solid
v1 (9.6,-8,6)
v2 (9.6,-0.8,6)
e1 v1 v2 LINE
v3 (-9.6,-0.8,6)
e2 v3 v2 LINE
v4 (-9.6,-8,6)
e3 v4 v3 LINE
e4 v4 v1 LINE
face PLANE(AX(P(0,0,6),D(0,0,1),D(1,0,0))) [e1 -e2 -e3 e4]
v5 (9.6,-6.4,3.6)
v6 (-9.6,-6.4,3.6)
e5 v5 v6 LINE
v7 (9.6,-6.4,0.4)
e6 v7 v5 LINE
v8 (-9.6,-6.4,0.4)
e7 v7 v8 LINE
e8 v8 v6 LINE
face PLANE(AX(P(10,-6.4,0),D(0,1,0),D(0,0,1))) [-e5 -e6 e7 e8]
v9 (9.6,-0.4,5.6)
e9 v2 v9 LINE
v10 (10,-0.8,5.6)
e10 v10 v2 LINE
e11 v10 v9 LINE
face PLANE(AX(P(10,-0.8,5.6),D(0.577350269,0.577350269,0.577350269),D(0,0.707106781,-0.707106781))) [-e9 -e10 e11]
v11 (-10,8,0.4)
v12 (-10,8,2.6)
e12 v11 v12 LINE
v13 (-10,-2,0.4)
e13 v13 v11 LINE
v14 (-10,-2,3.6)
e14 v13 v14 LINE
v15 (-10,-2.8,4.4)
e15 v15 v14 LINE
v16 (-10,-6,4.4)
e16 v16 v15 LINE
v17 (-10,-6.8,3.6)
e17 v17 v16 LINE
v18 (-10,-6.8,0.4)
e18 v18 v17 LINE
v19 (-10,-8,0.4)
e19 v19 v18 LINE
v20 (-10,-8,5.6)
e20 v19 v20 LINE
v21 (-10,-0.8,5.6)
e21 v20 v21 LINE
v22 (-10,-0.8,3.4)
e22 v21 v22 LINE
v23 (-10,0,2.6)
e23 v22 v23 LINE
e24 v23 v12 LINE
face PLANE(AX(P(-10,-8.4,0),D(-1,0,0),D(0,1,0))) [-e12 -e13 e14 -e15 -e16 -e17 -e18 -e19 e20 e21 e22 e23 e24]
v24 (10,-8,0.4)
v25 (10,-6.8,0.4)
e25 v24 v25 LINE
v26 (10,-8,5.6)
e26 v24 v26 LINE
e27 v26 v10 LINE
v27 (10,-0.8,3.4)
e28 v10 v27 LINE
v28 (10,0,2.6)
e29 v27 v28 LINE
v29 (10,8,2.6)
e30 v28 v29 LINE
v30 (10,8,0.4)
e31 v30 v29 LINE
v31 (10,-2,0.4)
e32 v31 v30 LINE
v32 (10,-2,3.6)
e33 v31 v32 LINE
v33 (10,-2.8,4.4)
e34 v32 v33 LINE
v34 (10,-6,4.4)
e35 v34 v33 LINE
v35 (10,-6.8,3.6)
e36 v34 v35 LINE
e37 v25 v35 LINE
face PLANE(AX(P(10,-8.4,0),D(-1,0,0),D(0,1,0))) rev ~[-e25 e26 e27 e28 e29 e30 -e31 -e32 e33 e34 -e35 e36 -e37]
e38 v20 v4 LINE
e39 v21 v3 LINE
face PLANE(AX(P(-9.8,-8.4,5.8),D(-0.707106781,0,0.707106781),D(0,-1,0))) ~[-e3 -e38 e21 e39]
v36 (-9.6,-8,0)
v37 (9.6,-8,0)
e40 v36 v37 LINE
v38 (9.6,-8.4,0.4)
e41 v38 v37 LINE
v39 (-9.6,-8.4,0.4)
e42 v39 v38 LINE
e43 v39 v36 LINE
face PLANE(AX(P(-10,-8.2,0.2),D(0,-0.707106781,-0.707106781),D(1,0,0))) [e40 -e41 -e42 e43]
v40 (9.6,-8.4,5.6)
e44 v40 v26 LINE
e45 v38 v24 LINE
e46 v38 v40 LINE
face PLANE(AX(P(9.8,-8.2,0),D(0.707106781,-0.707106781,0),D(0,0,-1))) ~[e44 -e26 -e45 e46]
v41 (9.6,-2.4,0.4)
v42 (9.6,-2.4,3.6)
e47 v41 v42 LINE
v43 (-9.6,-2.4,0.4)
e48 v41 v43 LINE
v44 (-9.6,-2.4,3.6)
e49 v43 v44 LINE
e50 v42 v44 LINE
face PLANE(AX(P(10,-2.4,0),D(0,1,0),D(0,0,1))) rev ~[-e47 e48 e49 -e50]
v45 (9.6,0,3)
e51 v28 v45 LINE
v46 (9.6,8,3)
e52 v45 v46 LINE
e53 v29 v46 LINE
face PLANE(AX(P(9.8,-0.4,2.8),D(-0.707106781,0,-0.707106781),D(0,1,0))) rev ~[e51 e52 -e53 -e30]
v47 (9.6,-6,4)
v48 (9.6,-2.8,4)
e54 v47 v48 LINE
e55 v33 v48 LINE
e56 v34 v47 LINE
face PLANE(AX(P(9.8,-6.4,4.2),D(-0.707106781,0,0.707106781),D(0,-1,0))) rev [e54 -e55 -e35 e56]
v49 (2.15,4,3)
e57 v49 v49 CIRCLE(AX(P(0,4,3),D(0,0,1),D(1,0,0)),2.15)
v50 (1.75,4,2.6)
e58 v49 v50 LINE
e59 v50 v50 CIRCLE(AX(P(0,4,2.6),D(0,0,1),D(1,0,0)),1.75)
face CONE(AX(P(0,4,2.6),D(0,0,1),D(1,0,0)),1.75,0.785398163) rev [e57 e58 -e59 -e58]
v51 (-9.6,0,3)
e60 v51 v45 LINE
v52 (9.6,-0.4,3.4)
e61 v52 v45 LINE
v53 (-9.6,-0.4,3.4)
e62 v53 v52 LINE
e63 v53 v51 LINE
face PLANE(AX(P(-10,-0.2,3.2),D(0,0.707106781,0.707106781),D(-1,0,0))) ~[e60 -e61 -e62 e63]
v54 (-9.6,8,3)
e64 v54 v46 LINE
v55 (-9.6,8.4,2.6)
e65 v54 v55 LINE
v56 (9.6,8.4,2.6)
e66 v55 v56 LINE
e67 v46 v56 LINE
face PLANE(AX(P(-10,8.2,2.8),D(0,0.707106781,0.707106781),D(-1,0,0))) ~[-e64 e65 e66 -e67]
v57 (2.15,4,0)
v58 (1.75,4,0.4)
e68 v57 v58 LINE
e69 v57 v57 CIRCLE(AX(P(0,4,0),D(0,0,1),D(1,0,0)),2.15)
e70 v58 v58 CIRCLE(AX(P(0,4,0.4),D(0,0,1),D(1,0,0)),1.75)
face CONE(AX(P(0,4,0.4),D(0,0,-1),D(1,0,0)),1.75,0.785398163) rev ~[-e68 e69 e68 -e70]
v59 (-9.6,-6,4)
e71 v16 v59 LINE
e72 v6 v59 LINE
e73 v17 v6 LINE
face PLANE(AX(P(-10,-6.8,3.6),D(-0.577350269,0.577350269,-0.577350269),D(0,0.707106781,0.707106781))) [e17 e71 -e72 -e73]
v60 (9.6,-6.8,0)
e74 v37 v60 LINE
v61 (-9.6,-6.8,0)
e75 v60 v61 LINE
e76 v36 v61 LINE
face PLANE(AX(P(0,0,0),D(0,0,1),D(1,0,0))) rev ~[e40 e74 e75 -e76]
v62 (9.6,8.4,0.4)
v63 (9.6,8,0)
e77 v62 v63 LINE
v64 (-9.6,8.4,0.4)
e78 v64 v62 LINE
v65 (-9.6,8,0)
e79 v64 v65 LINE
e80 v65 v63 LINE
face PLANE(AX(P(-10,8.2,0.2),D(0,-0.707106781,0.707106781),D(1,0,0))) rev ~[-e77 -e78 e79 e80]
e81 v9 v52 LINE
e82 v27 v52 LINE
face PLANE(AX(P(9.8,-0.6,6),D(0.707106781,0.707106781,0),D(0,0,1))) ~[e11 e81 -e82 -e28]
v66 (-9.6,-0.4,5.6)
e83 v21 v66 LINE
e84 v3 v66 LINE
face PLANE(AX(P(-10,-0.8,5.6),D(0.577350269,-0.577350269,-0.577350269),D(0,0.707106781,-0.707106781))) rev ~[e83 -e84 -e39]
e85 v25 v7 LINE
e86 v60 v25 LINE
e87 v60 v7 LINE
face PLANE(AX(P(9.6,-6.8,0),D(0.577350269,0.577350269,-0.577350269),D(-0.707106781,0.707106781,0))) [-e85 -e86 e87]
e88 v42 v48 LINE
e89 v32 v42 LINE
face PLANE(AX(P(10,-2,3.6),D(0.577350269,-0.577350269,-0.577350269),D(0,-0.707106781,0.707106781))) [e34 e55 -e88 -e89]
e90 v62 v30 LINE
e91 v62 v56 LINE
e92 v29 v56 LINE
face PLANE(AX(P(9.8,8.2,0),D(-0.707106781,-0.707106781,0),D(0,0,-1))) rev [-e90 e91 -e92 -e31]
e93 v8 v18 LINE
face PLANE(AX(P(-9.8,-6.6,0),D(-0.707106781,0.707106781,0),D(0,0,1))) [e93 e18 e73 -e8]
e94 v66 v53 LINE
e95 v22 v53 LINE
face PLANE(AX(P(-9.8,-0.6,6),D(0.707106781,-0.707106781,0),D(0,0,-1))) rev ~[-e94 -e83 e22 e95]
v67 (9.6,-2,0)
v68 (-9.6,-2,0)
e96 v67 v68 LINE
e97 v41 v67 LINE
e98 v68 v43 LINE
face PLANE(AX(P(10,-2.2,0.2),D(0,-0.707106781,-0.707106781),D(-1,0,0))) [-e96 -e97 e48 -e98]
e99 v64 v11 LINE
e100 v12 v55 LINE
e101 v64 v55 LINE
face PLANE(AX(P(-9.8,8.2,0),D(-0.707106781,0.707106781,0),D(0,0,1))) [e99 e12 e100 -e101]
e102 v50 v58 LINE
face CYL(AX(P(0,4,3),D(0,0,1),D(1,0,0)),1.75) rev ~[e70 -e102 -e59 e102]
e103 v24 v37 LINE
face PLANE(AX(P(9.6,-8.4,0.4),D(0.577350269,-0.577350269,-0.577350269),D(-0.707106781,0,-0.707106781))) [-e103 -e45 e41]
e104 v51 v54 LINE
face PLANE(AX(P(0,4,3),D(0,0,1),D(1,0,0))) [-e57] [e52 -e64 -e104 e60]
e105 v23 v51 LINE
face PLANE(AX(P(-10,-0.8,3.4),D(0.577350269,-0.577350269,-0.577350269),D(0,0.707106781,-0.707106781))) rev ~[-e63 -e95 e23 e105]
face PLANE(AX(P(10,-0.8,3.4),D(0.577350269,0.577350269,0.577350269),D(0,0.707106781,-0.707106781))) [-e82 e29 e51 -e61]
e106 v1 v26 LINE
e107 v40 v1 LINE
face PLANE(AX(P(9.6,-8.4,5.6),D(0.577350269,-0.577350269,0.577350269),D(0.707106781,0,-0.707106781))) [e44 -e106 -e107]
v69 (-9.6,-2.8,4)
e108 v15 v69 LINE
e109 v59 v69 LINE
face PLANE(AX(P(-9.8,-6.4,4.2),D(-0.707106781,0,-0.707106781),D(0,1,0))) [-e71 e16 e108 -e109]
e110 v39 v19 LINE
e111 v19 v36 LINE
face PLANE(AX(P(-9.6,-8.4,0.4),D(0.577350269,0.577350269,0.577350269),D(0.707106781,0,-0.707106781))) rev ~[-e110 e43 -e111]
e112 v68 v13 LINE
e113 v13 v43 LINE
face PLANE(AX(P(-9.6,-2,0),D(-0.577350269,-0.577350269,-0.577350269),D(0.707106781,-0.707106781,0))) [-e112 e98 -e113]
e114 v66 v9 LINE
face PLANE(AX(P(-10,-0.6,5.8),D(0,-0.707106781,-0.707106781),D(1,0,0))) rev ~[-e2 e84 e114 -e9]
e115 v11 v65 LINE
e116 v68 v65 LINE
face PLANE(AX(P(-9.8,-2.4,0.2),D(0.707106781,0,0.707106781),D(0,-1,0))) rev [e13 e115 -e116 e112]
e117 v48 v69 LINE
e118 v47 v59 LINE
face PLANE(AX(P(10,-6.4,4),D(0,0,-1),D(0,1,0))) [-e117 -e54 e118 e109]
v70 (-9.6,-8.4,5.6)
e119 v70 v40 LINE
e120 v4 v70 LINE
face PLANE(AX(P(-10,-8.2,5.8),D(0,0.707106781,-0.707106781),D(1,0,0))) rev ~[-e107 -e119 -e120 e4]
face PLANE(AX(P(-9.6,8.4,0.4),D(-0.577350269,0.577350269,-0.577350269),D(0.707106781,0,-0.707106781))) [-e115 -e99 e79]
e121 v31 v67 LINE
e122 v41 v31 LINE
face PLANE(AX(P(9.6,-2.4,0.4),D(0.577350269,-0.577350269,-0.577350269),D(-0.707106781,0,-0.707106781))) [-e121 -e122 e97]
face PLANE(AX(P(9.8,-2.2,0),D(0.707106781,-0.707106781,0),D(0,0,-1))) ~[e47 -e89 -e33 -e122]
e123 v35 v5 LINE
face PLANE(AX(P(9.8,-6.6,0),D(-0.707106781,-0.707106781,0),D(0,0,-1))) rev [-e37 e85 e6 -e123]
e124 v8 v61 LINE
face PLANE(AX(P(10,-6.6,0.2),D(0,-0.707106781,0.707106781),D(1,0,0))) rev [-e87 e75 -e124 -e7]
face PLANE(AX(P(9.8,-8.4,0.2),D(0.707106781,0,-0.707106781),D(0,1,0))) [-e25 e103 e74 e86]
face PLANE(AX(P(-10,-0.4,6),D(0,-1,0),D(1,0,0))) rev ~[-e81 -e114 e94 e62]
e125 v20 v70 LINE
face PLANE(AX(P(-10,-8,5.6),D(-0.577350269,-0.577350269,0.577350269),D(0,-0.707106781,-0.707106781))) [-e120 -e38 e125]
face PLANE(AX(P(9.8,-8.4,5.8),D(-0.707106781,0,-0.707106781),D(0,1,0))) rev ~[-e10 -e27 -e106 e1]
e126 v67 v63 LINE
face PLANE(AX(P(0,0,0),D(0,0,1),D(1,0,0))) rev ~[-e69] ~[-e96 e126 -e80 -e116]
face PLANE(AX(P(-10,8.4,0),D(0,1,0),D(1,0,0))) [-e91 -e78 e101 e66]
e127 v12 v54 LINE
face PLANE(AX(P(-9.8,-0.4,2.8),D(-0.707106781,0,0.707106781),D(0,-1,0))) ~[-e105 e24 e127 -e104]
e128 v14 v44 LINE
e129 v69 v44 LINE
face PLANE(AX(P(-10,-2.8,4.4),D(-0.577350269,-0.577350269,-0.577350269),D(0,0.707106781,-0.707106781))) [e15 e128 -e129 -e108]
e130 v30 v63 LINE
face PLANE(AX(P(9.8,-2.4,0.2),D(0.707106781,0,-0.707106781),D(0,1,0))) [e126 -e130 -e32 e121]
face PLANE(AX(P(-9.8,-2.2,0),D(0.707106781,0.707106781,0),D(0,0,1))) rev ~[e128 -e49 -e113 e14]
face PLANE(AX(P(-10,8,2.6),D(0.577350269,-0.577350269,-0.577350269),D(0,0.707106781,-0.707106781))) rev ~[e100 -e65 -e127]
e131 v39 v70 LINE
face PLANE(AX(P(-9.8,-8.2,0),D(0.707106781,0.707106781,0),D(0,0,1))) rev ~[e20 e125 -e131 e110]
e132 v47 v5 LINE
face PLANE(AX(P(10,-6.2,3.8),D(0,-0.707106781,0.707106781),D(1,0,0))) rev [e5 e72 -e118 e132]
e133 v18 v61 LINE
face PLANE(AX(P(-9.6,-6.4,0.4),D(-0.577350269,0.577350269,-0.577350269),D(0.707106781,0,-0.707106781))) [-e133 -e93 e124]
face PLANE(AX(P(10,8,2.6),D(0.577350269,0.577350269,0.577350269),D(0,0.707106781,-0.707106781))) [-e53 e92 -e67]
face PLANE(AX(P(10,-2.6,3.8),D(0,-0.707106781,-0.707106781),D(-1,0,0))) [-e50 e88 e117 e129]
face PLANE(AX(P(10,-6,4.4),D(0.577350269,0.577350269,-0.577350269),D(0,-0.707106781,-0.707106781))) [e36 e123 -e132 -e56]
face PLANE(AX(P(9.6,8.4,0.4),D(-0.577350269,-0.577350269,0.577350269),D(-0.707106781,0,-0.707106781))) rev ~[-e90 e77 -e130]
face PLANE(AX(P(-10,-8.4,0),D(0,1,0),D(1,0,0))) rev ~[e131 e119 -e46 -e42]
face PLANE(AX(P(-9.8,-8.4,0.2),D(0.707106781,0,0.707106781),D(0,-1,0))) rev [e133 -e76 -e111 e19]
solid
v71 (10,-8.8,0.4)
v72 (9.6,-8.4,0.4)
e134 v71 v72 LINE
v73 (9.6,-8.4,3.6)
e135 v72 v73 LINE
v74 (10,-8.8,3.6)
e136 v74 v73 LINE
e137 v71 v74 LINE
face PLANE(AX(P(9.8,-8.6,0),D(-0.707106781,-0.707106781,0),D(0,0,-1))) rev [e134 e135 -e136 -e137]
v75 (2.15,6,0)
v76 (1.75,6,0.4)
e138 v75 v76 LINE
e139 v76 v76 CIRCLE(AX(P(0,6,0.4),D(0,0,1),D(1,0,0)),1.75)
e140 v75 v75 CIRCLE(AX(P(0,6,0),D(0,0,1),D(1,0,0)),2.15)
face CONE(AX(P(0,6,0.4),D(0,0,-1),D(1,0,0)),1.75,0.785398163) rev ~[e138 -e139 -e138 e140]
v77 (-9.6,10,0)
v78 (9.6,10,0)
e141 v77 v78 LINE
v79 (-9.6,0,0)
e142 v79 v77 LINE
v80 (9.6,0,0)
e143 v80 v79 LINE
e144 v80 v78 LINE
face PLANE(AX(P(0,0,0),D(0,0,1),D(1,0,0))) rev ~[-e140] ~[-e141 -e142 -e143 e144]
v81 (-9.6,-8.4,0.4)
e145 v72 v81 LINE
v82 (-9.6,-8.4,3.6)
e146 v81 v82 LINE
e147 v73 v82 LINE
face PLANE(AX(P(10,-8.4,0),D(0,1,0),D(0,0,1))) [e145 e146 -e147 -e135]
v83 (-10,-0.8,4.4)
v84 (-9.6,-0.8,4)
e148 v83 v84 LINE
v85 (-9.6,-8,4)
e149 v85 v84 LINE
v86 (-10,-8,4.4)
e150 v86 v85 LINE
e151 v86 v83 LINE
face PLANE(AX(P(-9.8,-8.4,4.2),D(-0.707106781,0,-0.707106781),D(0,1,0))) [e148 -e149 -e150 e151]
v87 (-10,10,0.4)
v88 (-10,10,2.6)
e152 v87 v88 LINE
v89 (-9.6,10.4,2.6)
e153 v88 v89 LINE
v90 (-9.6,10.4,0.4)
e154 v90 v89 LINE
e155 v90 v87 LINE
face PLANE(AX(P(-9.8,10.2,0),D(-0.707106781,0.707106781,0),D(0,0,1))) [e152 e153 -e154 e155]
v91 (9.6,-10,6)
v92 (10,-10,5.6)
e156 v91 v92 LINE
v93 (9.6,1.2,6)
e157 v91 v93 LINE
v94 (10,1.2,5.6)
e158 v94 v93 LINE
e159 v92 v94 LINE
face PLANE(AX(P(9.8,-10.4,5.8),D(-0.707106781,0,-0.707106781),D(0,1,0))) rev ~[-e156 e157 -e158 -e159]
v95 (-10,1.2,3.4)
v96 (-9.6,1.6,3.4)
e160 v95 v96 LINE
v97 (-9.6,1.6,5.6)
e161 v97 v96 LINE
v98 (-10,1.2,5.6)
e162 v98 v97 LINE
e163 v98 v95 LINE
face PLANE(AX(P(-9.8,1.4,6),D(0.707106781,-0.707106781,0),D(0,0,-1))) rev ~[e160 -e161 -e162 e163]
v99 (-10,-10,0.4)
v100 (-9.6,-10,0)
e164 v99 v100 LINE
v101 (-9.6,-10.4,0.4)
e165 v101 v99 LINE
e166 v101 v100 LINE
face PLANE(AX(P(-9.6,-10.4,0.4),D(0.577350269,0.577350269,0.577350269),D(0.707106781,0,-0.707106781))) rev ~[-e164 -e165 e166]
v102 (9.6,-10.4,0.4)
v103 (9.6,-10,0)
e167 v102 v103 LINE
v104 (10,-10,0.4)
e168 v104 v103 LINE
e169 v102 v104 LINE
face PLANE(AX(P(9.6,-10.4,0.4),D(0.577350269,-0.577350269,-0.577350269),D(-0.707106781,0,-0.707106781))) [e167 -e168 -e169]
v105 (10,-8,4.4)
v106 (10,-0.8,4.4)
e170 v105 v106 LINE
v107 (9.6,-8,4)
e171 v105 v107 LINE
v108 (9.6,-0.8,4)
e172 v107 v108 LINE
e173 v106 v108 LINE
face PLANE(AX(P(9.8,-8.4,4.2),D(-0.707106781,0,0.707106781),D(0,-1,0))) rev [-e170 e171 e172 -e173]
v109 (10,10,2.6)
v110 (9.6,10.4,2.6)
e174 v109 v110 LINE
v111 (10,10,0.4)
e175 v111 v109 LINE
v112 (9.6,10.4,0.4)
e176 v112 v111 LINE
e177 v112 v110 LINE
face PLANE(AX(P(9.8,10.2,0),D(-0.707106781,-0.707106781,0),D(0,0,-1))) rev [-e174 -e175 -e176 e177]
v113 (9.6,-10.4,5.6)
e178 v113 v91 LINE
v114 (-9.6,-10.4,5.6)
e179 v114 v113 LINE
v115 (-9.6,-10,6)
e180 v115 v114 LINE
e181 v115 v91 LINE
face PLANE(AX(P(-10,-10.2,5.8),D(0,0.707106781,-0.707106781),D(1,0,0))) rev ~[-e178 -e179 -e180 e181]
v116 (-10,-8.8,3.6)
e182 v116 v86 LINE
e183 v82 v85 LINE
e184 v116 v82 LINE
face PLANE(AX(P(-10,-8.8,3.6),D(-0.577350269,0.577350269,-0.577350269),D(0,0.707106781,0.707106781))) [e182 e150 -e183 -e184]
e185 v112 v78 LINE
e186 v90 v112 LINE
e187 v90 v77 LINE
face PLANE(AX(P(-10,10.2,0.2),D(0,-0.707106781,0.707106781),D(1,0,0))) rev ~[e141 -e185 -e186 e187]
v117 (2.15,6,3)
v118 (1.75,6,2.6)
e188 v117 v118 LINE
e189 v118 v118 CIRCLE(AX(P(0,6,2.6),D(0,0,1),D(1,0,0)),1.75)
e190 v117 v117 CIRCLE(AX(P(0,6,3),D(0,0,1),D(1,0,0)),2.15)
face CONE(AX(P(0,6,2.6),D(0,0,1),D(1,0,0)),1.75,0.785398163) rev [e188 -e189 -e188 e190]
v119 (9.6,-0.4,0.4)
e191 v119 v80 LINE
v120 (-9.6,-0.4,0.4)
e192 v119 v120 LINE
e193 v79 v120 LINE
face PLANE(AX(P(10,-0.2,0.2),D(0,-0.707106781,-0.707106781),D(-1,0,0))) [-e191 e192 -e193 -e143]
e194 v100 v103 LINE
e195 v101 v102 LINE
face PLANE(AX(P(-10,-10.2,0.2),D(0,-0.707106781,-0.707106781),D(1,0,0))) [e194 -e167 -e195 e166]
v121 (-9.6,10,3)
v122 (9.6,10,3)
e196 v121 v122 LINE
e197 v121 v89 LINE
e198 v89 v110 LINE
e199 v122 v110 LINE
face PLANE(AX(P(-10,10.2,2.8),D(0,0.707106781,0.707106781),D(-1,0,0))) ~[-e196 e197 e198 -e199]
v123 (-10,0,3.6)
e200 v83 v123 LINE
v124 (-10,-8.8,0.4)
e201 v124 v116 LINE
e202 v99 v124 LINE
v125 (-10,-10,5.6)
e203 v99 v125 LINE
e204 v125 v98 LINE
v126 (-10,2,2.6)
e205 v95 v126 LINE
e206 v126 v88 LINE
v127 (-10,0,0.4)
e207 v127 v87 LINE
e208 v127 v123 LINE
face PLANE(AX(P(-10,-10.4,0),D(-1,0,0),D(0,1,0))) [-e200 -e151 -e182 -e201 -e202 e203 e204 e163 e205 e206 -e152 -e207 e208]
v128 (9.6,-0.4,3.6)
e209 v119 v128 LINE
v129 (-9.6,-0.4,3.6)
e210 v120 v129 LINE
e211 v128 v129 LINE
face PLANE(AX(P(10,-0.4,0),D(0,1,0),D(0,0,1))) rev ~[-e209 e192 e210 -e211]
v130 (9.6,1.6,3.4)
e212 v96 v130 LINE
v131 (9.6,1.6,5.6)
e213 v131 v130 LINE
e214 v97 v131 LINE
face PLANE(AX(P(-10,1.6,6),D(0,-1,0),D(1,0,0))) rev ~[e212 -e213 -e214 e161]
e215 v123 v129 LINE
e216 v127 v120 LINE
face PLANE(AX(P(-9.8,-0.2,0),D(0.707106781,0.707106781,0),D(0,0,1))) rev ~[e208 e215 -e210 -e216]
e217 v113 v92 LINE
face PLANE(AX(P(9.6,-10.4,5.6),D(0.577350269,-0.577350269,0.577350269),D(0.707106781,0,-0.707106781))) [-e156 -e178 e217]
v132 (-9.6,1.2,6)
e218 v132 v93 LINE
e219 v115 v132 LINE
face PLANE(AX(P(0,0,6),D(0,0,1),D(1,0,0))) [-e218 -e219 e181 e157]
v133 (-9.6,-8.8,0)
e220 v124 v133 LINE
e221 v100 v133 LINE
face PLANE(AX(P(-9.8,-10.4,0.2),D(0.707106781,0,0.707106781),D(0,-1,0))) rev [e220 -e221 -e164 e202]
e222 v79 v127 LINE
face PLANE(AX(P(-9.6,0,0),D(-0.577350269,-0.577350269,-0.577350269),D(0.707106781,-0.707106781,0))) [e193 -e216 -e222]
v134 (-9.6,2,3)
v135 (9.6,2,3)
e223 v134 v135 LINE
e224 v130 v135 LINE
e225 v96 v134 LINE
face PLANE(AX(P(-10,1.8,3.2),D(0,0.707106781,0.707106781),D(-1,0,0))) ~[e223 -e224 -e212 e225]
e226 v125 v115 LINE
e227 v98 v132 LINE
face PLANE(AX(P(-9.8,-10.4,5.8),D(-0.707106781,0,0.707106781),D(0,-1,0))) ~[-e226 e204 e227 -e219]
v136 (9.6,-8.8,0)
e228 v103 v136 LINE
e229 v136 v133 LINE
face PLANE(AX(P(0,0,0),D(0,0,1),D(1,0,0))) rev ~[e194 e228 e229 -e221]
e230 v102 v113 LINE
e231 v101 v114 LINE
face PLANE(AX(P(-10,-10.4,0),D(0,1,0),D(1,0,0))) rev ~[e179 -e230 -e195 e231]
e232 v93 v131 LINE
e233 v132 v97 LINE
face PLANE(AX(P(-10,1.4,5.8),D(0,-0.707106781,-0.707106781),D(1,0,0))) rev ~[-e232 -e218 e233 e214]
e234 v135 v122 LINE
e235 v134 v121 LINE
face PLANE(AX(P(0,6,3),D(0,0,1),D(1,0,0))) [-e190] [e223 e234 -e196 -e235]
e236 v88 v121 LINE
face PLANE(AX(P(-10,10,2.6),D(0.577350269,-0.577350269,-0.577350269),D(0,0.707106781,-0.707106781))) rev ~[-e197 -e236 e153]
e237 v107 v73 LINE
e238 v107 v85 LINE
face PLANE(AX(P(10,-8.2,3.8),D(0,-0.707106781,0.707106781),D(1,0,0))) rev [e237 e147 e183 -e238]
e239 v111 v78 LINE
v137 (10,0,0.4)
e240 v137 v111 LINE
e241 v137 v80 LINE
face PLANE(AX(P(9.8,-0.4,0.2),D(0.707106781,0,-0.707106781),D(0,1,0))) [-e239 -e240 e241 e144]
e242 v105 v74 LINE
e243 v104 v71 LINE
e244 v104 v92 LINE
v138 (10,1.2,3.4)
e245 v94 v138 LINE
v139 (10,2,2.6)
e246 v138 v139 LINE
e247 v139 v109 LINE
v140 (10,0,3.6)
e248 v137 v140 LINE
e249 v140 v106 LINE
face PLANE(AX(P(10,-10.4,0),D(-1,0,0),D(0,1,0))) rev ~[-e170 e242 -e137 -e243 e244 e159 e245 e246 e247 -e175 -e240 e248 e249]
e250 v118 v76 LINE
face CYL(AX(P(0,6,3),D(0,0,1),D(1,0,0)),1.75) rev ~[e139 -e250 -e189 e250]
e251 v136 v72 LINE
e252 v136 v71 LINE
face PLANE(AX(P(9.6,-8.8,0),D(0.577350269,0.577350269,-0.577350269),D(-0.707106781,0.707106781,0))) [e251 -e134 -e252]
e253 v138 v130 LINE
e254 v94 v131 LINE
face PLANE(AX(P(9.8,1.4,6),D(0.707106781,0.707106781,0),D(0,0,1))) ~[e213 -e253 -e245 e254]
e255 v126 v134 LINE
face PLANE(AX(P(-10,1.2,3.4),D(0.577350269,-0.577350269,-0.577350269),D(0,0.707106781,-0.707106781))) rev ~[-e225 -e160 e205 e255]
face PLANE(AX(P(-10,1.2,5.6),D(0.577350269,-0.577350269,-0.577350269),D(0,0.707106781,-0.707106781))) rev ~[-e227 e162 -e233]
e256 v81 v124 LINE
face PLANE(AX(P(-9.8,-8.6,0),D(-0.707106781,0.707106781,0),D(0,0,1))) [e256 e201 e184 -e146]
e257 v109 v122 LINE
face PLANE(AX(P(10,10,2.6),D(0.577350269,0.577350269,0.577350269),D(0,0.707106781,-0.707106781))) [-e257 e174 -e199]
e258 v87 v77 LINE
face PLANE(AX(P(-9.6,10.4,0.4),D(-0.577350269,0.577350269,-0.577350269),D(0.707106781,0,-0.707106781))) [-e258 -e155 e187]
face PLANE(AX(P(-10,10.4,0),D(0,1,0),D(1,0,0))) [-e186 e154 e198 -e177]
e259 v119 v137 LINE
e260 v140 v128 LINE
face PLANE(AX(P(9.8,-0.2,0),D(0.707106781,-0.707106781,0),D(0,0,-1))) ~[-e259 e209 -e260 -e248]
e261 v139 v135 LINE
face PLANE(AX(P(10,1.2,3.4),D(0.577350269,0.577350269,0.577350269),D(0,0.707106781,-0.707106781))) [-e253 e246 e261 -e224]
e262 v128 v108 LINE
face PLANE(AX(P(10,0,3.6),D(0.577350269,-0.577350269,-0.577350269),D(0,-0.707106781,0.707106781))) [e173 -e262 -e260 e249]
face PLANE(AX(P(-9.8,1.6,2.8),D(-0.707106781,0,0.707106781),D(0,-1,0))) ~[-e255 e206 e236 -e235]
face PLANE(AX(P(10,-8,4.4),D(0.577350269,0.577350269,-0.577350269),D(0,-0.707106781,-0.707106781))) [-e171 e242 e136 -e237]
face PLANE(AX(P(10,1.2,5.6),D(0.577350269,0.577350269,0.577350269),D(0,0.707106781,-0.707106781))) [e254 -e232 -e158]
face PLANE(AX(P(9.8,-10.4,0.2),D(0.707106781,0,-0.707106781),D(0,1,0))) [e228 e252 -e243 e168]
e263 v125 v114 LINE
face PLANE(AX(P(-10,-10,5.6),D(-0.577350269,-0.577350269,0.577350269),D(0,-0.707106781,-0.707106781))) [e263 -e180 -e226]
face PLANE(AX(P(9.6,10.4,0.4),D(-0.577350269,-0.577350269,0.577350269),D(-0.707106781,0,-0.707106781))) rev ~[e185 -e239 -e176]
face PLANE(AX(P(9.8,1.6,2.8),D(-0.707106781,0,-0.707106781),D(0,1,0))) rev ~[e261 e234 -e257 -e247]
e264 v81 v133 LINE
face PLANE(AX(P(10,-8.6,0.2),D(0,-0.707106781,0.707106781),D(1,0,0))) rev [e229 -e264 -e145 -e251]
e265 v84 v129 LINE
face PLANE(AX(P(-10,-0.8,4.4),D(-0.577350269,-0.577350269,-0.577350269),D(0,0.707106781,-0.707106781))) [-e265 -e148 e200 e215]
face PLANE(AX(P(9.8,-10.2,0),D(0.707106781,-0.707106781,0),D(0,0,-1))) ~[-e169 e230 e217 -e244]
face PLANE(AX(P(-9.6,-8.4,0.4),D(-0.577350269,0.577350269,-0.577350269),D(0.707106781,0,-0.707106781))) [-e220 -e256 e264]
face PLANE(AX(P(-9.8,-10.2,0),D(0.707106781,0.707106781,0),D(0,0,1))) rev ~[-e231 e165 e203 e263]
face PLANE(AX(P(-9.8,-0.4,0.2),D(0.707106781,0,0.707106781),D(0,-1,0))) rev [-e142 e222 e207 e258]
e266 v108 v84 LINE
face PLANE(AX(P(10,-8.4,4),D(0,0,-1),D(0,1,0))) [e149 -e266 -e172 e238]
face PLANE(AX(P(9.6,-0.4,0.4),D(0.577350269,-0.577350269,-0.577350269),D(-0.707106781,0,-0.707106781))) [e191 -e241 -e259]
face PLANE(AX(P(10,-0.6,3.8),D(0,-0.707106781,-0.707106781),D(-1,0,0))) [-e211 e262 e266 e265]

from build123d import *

# Parameters (mm, degrees)
SKETCH_W        = 20
SKETCH_H        = 20.8
PAD_DEPTH       = 6
SKETCH001_W     = 8
SKETCH001_H     = 4
POCKET_DEPTH    = 20
SKETCH002_W     = 20
SKETCH002_H     = 8.8
POCKET001_DEPTH = 3
SKETCH003_R     = 1.75
POCKET002_DEPTH = 3
CHAMFER_SIZE    = 0.4
SKETCH004_W     = 20
SKETCH004_H     = 16.8
PAD001_DEPTH    = 6
SKETCH005_W     = 4
SKETCH005_H     = 4
POCKET003_DEPTH = 20
SKETCH006_W     = 20
SKETCH006_H     = 8.8
POCKET004_DEPTH = 3
SKETCH007_R     = 1.75
POCKET005_DEPTH = 3
CHAMFER001_SIZE = 0.4


with BuildPart() as f_14_2_romex:
    # Sketch → Pad (new body)
    with BuildSketch(Plane.XY):
        Rectangle(SKETCH_W, SKETCH_H)
    extrude(amount=PAD_DEPTH)

    # Sketch001 (on Face2 of Pad) → Pocket (cut)
    with BuildSketch(Plane.YZ.offset(10)):
        with Locations((-4.4, 2)):
            Rectangle(SKETCH001_W, SKETCH001_H)
    extrude(amount=-POCKET_DEPTH, mode=Mode.SUBTRACT)

    # Sketch002 (on Face5 of Pocket) → Pocket001 (cut)
    with BuildSketch(Plane.XY.offset(6)):
        with Locations((0, 6)):
            Rectangle(SKETCH002_W, SKETCH002_H)
    extrude(amount=-POCKET001_DEPTH, mode=Mode.SUBTRACT)

    # Sketch003 (on Face4 of Pocket001) → Pocket002 (cut)
    with BuildSketch(Plane.XY.offset(3)):
        with Locations((0, 6)):
            Circle(SKETCH003_R)
    extrude(amount=-POCKET002_DEPTH, mode=Mode.SUBTRACT)

    # Chamfer
    chamfer_edges = [f_14_2_romex.edges().sort_by_distance(p)[0] for p in [
        (0, 1.6, 6),
        (10, -4.4, 6),
        (0, -10.4, 6),
        (-10, -4.4, 6),
        (0, 10.4, 3),
        (-10, 6, 3),
        (10, 6, 3),
        (0, 1.6, 3),
        (-1.75, 6, 3),
        (10, 5, 0),
        (10, -0.4, 2),
        (10, -4.4, 4),
        (10, -8.4, 2),
        (10, -9.4, 0),
        (10, -10.4, 3),
        (10, 1.6, 4.5),
        (10, 10.4, 1.5),
        (-10, -9.4, 0),
        (-10, -8.4, 2),
        (-10, -4.4, 4),
        (-10, -0.4, 2),
        (-10, 5, 0),
        (-10, 10.4, 1.5),
        (-10, 1.6, 4.5),
        (-10, -10.4, 3),
        (0, -10.4, 0),
        (0, 10.4, 0),
        (0, -0.4, 0),
        (-1.75, 6, 0),
        (0, -8.4, 0),
        (0, -0.4, 4),
        (0, -8.4, 4),
    ]]
    chamfer(chamfer_edges, length=CHAMFER_SIZE)


with BuildPart() as f_4_18gauge_wires:
    # Sketch004 → Pad001 (new body)
    with BuildSketch(Plane.XY):
        Rectangle(SKETCH004_W, SKETCH004_H)
    extrude(amount=PAD001_DEPTH)

    # Sketch005 (on Face2 of Pad001) → Pocket003 (cut)
    with BuildSketch(Plane.YZ.offset(10)):
        with Locations((-4.4, 2)):
            Rectangle(SKETCH005_W, SKETCH005_H)
    extrude(amount=-POCKET003_DEPTH, mode=Mode.SUBTRACT)

    # Sketch006 (on Face5 of Pocket003) → Pocket004 (cut)
    with BuildSketch(Plane.XY.offset(6)):
        with Locations((0, 4)):
            Rectangle(SKETCH006_W, SKETCH006_H)
    extrude(amount=-POCKET004_DEPTH, mode=Mode.SUBTRACT)

    # Sketch007 (on Face4 of Pocket004) → Pocket005 (cut)
    with BuildSketch(Plane.XY.offset(3)):
        with Locations((0, 4)):
            Circle(SKETCH007_R)
    extrude(amount=-POCKET005_DEPTH, mode=Mode.SUBTRACT)

    # Chamfer001
    chamfer001_edges = [f_4_18gauge_wires.edges().sort_by_distance(p)[0] for p in [
        (0, -0.4, 6),
        (10, -4.4, 6),
        (0, -8.4, 6),
        (-10, -4.4, 6),
        (0, 8.4, 3),
        (-10, 4, 3),
        (10, 4, 3),
        (0, -0.4, 3),
        (-1.75, 4, 3),
        (10, 3, 0),
        (10, -2.4, 2),
        (10, -4.4, 4),
        (10, -6.4, 2),
        (10, -7.4, 0),
        (10, -8.4, 3),
        (10, -0.4, 4.5),
        (10, 8.4, 1.5),
        (-10, -7.4, 0),
        (-10, -6.4, 2),
        (-10, -4.4, 4),
        (-10, -2.4, 2),
        (-10, 3, 0),
        (-10, 8.4, 1.5),
        (-10, -0.4, 4.5),
        (-10, -8.4, 3),
        (0, -8.4, 0),
        (0, 8.4, 0),
        (0, -2.4, 0),
        (-1.75, 4, 0),
        (0, -6.4, 0),
        (0, -2.4, 4),
        (0, -6.4, 4),
    ]]
    chamfer(chamfer001_edges, length=CHAMFER001_SIZE)


solid = Compound([f_14_2_romex.part, f_4_18gauge_wires.part])
